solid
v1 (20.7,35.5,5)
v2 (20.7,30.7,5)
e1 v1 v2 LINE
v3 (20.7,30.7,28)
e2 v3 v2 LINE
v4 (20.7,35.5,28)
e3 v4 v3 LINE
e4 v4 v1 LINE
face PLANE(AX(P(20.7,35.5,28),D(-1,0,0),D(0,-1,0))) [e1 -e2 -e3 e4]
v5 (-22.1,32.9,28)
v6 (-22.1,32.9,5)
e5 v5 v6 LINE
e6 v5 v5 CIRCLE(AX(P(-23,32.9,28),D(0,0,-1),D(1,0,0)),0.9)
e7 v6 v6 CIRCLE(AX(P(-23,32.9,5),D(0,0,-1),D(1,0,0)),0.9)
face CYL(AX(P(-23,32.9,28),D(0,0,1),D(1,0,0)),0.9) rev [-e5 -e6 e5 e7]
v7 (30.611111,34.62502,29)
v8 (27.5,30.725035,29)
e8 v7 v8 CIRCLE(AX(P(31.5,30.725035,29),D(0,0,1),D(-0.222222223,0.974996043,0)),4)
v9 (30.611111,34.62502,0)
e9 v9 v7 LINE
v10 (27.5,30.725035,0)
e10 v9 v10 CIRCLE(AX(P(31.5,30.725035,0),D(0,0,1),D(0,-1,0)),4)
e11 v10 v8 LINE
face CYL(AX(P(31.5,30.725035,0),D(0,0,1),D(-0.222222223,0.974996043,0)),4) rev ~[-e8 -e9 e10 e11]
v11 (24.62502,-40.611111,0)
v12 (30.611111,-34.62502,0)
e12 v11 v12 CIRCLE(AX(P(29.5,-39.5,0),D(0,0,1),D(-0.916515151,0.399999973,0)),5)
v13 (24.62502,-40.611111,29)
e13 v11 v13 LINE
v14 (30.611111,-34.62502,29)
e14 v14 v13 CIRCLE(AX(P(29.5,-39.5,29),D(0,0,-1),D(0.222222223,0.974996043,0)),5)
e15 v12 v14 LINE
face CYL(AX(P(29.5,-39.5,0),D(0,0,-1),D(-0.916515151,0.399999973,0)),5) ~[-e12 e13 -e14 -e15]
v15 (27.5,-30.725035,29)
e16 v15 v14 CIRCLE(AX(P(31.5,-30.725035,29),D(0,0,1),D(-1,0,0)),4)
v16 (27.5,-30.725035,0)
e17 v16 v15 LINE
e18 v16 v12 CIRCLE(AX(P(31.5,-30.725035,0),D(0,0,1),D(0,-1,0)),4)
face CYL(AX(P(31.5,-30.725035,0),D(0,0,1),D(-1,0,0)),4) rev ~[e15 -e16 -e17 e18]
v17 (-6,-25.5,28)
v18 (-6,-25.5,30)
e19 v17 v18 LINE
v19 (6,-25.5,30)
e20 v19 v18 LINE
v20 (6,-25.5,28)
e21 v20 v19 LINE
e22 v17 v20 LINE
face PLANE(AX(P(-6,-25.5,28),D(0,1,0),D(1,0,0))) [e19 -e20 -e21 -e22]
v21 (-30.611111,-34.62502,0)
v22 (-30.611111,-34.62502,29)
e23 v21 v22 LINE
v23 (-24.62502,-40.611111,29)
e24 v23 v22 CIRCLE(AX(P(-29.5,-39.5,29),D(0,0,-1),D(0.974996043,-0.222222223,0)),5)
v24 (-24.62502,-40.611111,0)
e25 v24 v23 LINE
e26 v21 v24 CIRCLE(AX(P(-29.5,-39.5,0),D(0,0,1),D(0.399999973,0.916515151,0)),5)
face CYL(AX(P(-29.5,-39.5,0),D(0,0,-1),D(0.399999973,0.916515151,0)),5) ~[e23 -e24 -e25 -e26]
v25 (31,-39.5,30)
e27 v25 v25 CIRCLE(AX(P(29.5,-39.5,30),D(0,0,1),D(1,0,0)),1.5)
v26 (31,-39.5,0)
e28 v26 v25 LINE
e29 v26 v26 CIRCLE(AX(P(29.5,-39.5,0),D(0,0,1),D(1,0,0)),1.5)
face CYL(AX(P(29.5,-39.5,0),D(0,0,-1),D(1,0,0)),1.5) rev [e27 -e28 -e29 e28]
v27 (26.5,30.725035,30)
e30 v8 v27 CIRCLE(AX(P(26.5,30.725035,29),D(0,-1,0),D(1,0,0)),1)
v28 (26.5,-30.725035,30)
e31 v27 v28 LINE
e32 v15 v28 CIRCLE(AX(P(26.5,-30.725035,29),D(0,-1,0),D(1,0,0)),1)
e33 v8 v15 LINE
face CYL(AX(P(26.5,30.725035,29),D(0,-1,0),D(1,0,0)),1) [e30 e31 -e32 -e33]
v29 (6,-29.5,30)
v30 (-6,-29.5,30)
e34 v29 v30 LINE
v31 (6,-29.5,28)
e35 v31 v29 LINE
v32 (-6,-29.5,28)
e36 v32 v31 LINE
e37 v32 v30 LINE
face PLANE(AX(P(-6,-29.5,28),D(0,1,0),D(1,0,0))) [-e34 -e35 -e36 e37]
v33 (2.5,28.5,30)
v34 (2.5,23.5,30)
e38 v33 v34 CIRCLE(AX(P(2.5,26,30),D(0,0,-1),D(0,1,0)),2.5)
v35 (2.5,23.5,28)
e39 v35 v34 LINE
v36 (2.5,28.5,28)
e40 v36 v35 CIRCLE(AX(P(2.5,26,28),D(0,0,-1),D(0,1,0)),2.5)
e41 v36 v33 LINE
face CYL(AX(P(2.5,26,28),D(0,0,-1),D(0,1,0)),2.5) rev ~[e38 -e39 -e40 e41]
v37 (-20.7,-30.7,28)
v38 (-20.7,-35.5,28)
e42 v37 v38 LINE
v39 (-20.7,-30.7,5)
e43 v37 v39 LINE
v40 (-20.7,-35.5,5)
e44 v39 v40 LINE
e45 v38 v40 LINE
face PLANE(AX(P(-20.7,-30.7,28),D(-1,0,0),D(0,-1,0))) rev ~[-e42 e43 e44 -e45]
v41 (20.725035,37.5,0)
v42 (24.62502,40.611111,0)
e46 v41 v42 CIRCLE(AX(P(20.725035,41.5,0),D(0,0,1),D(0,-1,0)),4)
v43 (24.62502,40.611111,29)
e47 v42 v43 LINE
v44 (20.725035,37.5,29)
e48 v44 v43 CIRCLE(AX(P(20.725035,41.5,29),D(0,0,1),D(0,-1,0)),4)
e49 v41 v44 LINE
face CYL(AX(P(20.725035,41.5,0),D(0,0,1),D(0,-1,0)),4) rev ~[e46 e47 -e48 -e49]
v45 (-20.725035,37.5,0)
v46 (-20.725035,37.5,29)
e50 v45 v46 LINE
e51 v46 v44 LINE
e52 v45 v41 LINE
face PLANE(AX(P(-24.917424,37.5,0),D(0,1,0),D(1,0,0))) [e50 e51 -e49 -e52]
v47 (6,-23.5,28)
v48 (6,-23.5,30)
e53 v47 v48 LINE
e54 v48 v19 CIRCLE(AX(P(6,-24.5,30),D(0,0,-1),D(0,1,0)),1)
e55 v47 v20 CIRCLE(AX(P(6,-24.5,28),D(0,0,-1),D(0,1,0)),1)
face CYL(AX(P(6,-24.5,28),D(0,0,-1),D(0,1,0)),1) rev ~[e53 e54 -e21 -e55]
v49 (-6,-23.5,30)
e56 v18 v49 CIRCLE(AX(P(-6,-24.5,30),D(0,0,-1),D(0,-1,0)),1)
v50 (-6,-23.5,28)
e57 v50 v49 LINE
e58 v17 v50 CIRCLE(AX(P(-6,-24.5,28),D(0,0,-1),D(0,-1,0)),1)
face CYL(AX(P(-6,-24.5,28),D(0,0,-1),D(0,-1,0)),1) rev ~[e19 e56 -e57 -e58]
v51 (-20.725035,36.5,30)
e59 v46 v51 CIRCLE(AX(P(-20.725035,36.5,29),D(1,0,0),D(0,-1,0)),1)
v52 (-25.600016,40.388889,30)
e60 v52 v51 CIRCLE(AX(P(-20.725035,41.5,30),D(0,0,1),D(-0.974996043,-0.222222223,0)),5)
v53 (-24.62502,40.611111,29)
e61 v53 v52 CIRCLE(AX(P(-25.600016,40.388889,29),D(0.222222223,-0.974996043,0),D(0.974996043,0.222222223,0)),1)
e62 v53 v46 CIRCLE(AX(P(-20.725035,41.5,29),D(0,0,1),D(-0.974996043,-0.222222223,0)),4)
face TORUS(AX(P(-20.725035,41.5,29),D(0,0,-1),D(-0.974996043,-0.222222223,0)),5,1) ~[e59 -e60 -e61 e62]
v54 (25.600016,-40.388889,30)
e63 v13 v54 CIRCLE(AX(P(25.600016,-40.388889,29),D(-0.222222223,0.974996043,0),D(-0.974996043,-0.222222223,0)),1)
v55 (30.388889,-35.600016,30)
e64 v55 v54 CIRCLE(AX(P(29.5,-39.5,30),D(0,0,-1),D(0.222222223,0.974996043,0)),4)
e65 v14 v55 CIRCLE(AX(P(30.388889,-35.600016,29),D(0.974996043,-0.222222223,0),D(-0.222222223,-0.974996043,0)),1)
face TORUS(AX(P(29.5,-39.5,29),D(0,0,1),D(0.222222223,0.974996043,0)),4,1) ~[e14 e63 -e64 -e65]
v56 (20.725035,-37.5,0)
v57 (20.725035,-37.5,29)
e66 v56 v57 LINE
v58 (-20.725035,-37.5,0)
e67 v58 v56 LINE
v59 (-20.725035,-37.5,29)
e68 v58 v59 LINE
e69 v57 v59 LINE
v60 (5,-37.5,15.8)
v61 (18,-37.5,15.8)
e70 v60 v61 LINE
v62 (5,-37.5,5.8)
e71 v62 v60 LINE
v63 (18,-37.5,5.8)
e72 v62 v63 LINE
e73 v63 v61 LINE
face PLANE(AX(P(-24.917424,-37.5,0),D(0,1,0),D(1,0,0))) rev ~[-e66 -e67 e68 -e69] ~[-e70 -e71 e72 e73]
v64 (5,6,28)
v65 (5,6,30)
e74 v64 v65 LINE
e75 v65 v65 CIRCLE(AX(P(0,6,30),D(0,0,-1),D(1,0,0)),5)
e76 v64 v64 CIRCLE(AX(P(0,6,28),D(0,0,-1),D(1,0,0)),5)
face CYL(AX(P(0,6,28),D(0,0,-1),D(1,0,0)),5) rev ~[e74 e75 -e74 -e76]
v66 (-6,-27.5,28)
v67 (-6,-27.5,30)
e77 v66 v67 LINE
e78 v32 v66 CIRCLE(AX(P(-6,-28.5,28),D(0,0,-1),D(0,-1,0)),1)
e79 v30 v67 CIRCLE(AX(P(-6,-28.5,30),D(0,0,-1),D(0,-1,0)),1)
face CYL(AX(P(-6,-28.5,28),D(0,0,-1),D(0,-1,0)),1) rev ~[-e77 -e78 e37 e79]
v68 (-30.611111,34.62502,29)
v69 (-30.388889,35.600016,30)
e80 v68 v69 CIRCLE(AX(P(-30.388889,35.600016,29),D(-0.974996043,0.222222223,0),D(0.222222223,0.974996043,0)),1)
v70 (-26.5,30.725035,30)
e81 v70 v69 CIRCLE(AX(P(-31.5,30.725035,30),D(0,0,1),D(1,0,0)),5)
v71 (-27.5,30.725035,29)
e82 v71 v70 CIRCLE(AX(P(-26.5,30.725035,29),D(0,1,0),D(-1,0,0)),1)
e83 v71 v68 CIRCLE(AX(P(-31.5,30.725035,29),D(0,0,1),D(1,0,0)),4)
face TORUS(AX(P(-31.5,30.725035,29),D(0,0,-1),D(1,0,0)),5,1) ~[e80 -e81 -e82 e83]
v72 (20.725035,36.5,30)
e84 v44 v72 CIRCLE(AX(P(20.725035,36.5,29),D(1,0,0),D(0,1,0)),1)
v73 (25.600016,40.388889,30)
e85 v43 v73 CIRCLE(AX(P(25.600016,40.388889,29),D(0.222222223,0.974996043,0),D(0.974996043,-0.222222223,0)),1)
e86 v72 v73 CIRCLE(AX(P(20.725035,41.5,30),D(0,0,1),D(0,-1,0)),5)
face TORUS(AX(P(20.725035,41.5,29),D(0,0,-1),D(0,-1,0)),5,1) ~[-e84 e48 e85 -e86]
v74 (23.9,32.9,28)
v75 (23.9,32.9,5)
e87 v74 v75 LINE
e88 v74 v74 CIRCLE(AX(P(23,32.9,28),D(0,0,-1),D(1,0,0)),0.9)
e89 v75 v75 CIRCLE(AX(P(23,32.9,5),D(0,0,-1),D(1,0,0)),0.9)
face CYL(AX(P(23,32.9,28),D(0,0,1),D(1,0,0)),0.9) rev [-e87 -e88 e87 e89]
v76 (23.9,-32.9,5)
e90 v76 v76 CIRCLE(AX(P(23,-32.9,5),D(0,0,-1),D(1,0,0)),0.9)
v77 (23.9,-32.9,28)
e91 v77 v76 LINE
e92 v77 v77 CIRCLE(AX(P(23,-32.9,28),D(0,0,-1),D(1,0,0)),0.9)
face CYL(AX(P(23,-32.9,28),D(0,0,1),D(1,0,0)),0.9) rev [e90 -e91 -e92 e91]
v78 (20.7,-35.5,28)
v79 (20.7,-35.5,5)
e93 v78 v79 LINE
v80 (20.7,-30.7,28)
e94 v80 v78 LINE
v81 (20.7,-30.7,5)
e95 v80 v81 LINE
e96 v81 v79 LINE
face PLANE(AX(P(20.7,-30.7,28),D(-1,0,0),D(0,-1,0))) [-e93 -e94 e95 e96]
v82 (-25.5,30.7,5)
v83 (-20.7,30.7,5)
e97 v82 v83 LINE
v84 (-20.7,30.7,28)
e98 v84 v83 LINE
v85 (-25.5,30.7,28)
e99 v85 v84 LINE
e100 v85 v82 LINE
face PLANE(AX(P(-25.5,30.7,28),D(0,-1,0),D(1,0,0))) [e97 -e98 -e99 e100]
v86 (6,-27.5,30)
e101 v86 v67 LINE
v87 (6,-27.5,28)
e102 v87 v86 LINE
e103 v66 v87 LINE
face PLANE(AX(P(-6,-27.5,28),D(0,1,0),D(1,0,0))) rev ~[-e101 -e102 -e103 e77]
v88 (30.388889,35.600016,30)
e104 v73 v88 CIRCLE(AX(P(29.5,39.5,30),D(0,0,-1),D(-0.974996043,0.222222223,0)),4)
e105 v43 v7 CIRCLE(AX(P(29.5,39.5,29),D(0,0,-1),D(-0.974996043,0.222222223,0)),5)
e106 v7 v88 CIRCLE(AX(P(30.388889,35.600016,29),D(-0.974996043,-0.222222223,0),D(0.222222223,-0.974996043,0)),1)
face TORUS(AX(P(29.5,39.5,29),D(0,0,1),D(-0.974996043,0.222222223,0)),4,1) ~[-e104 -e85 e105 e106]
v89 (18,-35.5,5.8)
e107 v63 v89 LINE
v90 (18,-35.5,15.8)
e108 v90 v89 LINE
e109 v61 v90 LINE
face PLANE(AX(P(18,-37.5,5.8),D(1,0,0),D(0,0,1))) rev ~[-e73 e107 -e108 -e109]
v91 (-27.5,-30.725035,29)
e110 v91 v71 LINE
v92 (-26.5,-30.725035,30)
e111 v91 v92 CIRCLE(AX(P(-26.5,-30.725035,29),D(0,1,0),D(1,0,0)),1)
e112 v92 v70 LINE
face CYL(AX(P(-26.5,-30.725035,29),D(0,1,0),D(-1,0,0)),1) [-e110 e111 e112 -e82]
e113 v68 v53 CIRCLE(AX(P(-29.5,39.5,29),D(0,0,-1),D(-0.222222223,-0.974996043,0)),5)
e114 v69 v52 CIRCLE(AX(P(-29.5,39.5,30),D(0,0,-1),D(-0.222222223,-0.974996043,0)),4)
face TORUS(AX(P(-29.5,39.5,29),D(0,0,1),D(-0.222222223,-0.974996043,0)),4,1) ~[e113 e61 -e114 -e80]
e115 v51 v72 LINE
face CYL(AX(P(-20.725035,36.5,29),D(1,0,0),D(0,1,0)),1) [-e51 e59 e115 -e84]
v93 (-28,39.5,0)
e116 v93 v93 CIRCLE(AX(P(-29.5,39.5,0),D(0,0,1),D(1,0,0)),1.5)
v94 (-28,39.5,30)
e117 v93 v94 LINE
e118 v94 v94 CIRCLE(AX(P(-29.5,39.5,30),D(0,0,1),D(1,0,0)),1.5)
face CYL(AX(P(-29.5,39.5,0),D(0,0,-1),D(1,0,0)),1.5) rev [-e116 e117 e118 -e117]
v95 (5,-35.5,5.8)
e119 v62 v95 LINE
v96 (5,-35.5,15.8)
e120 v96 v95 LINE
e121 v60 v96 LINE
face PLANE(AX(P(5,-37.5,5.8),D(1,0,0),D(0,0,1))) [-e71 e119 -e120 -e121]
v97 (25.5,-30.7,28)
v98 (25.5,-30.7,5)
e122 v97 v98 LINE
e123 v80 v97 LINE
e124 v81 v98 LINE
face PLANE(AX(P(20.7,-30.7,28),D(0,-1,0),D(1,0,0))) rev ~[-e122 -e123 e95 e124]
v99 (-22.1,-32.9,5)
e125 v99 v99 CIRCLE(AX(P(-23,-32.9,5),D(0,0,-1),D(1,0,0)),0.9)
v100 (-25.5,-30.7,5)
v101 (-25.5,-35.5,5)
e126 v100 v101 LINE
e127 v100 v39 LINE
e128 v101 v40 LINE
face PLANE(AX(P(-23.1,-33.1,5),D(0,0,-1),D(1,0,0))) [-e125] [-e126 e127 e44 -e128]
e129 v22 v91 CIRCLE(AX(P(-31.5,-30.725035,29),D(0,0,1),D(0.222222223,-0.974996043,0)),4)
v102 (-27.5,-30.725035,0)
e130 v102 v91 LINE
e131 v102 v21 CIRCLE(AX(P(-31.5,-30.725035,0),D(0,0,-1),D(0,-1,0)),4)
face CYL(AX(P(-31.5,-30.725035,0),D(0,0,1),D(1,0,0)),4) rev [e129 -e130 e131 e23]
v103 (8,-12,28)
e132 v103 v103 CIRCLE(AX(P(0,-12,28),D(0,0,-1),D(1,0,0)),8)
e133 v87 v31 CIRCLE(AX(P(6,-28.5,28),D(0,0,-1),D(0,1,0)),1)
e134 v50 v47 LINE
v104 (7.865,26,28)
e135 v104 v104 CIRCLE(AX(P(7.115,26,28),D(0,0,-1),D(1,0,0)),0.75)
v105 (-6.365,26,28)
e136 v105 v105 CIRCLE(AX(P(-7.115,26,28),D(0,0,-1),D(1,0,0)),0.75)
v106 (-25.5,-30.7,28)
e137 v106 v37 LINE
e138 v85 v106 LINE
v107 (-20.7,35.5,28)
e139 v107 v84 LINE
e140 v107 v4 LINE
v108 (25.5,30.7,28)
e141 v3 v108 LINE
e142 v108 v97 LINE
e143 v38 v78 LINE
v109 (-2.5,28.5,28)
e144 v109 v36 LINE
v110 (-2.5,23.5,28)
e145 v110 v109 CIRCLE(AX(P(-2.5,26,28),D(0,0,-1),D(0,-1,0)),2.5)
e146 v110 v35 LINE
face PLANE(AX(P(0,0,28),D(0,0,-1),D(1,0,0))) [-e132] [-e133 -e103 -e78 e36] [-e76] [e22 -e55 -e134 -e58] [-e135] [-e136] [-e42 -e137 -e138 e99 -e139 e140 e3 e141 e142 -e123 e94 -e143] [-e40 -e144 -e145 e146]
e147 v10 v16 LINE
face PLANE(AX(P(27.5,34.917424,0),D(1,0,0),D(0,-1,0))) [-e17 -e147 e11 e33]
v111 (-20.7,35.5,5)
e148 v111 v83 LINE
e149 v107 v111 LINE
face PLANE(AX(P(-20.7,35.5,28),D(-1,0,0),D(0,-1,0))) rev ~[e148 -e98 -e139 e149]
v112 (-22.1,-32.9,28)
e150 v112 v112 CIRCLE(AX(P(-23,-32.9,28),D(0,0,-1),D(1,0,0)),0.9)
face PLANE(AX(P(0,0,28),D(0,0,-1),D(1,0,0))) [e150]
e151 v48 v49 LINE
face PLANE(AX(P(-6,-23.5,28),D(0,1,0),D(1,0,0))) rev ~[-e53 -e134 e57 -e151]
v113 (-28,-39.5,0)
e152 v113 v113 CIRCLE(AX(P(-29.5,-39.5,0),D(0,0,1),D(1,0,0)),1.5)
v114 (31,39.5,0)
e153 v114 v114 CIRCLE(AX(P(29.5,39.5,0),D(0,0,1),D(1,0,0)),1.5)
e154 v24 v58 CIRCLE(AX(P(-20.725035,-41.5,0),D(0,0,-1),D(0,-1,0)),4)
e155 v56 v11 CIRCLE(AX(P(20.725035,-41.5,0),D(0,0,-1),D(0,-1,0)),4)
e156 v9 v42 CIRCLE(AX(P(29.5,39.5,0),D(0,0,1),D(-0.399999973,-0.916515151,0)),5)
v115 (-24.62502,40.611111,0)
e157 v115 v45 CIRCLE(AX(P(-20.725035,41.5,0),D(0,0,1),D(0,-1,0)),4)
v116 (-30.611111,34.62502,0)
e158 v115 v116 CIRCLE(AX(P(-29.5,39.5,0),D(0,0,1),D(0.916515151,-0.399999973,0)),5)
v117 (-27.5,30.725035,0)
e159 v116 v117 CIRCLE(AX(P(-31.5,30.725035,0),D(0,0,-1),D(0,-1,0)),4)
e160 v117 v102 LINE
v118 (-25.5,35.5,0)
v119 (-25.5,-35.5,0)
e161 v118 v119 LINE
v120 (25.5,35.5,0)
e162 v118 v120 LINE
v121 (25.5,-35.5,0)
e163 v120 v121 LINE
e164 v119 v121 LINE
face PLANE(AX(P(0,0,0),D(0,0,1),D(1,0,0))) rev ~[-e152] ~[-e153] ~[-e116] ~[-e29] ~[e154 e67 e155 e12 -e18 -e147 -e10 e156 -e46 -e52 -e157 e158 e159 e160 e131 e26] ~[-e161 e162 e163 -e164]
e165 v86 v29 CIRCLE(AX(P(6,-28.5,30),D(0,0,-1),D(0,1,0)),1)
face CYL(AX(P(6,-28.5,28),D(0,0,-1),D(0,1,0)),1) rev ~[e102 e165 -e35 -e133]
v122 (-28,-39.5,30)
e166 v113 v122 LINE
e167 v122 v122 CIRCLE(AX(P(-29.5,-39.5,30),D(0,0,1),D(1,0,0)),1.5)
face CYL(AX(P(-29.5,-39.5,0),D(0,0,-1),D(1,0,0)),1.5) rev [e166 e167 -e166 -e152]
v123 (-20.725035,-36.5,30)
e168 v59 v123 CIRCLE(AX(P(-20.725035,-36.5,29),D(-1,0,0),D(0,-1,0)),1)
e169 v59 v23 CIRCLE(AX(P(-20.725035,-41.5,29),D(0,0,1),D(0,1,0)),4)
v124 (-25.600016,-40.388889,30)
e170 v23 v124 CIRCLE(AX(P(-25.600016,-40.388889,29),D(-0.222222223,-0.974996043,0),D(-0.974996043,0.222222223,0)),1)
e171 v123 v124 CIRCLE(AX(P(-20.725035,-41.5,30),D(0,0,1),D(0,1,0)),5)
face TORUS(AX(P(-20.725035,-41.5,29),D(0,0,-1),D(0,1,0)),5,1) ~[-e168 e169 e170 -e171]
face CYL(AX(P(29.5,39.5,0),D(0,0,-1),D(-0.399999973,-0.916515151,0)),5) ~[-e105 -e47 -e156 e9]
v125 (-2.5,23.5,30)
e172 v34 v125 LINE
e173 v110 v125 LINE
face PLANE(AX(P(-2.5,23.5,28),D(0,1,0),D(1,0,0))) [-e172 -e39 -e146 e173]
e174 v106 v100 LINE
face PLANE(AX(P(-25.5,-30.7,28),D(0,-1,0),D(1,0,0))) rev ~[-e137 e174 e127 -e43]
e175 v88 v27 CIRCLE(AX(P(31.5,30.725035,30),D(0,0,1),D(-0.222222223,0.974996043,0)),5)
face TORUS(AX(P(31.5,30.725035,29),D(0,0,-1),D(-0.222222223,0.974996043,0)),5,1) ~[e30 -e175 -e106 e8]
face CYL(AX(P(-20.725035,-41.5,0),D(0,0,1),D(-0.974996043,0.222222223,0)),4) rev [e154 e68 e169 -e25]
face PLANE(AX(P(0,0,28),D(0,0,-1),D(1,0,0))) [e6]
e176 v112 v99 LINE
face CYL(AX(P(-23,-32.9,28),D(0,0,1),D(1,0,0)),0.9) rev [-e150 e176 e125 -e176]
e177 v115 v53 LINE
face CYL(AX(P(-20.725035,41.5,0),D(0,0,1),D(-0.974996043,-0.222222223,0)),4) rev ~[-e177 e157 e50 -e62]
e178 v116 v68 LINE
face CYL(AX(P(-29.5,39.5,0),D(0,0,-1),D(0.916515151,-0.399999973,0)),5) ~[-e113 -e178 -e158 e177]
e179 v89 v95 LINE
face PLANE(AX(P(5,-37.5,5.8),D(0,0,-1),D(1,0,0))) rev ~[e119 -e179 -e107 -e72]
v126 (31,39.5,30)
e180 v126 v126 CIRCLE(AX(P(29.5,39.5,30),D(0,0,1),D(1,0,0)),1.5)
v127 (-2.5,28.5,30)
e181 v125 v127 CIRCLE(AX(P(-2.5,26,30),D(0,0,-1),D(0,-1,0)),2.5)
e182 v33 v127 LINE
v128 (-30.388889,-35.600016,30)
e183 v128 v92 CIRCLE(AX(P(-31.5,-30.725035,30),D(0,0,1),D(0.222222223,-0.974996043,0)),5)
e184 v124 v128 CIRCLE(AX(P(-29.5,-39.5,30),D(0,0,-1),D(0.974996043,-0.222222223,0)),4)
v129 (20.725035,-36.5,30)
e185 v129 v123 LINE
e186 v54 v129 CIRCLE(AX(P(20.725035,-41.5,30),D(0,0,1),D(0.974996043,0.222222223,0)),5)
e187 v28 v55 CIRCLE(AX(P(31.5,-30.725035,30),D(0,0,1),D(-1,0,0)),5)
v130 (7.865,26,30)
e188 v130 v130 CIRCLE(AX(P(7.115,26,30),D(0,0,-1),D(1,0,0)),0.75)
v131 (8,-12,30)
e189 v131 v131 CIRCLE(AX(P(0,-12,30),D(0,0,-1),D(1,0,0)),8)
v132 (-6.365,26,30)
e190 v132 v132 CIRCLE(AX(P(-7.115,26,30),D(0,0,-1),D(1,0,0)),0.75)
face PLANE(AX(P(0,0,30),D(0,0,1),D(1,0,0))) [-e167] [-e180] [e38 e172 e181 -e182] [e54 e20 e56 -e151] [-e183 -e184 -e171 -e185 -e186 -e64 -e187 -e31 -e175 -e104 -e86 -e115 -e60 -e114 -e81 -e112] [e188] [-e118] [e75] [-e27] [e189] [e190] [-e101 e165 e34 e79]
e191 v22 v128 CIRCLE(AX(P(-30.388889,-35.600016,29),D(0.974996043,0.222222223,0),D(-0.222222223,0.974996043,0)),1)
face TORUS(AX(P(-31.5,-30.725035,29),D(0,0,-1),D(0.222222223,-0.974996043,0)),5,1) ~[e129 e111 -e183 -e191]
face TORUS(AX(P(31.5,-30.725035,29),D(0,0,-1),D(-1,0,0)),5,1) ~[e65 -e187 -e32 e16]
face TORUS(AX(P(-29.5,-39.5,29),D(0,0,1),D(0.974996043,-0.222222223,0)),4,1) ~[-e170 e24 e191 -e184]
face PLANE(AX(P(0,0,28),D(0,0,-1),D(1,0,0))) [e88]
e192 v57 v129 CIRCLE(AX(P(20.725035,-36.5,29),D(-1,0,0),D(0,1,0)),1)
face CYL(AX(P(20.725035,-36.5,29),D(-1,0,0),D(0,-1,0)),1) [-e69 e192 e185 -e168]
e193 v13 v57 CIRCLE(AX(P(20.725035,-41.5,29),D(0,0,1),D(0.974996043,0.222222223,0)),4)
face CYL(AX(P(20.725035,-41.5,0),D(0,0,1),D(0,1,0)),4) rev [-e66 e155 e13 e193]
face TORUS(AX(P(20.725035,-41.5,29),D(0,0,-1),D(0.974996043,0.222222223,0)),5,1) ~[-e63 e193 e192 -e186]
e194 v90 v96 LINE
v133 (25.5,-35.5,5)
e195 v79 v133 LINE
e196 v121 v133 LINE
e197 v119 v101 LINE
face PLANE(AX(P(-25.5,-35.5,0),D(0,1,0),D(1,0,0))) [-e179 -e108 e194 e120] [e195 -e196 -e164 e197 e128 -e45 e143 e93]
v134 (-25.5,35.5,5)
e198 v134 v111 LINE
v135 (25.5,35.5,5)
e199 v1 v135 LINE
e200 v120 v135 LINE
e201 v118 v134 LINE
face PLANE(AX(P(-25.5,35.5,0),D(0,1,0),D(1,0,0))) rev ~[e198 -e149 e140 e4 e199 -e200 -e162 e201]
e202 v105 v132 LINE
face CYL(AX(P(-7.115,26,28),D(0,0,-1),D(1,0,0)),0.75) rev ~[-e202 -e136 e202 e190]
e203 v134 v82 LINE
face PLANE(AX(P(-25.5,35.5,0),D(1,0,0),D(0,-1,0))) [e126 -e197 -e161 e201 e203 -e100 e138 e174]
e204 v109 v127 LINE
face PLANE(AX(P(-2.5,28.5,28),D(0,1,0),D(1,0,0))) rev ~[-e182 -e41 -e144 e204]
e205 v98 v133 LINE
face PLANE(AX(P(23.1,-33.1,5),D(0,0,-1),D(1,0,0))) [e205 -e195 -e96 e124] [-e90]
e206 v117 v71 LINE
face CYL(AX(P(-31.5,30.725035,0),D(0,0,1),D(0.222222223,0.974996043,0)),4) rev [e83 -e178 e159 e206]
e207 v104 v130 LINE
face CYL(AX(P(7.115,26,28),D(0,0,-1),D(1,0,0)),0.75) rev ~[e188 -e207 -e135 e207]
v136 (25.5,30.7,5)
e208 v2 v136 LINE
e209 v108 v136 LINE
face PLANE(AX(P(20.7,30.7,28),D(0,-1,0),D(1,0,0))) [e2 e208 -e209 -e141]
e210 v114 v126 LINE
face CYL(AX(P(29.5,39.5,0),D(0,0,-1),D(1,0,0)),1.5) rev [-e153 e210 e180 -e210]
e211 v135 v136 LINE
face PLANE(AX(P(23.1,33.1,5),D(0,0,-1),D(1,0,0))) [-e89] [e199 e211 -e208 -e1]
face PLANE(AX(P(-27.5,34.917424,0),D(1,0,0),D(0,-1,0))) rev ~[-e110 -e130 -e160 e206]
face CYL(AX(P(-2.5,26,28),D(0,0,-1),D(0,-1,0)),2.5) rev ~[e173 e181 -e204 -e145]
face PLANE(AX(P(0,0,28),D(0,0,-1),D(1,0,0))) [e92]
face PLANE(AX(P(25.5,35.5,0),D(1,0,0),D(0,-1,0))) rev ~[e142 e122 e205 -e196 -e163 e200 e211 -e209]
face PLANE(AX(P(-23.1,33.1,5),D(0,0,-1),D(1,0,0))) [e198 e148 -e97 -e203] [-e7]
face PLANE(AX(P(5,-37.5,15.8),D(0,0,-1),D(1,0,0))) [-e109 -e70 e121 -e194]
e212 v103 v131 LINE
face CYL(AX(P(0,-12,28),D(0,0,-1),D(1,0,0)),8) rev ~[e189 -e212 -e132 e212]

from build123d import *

# Parameters (mm, degrees)
SKETCH_R        = 1.5
PAD_DEPTH       = 30
SKETCH001_W     = 51
SKETCH001_H     = 71
POCKET_DEPTH    = 28
SKETCH002_W     = 4.8
SKETCH002_H     = 4.8
SKETCH002_R     = 0.9
PAD001_DEPTH    = 23
SKETCH003_W     = 4.8
SKETCH003_H     = 4.8
SKETCH003_R     = 0.9
PAD002_DEPTH    = 23
SKETCH004_W     = 4.8
SKETCH004_H     = 4.8
SKETCH004_R     = 0.9
PAD003_DEPTH    = 23
SKETCH005_W     = 4.8
SKETCH005_H     = 4.8
SKETCH005_R     = 0.9
PAD004_DEPTH    = 23
SKETCH006_R     = 5
POCKET001_DEPTH = 5
SKETCH007_R     = 8
POCKET002_DEPTH = 5
POCKET003_DEPTH = 5
SKETCH009_W     = 13
SKETCH009_H     = 10
POCKET004_DEPTH = 5
SKETCH010_R     = 0.75
POCKET005_DEPTH = 5
FILLET002_R     = 4
FILLET003_R     = 1


with BuildPart() as part:
    # Sketch → Pad (new body)
    with BuildSketch(Plane.XY):
        with BuildLine():
            ThreePointArc((-24.917424, 37.5), (-33.035534, 43.035534), (-27.5, 34.917424))
            Line((-27.5, 34.917424), (-27.5, -34.917424))
            ThreePointArc((-27.5, -34.917424), (-33.035534, -43.035534), (-24.917424, -37.5))
            Line((-24.917424, -37.5), (24.917424, -37.5))
            ThreePointArc((24.917424, -37.5), (33.035534, -43.035534), (27.5, -34.917424))
            Line((27.5, 34.917424), (27.5, -34.917424))
            ThreePointArc((27.5, 34.917424), (33.035534, 43.035534), (24.917424, 37.5))
            Line((-24.917424, 37.5), (24.917424, 37.5))
        make_face()
        with Locations((-29.5, 39.5)):
            Circle(SKETCH_R, mode=Mode.SUBTRACT)
        with Locations((29.5, 39.5)):
            Circle(SKETCH_R, mode=Mode.SUBTRACT)
        with Locations((-29.5, -39.5)):
            Circle(SKETCH_R, mode=Mode.SUBTRACT)
        with Locations((29.5, -39.5)):
            Circle(SKETCH_R, mode=Mode.SUBTRACT)
    extrude(amount=PAD_DEPTH)

    # Sketch001 (on Face13 of Pad) → Pocket (cut)
    with BuildSketch(Plane(origin=(0, 0, 0), x_dir=(1, 0, 0), z_dir=(0, 0, -1))):
        Rectangle(SKETCH001_W, SKETCH001_H)
    extrude(amount=-POCKET_DEPTH, mode=Mode.SUBTRACT)

    # Sketch002 (on Face19 of Pocket) → Pad001 (join)
    with BuildSketch(Plane(origin=(0, 0, 28), x_dir=(1, 0, 0), z_dir=(0, 0, -1))):
        with Locations((-23.1, 33.1)):
            Rectangle(SKETCH002_W, SKETCH002_H)
        with Locations((-23, 32.9)):
            Circle(SKETCH002_R, mode=Mode.SUBTRACT)
    extrude(amount=PAD001_DEPTH)

    # Sketch003 (on Face19 of Pad001) → Pad002 (join)
    with BuildSketch(Plane(origin=(0, 0, 28), x_dir=(1, 0, 0), z_dir=(0, 0, -1))):
        with Locations((23.1, 33.1)):
            Rectangle(SKETCH003_W, SKETCH003_H)
        with Locations((23, 32.9)):
            Circle(SKETCH003_R, mode=Mode.SUBTRACT)
    extrude(amount=PAD002_DEPTH)

    # Sketch004 (on Face21 of Pad002) → Pad003 (join)
    with BuildSketch(Plane(origin=(0, 0, 28), x_dir=(1, 0, 0), z_dir=(0, 0, -1))):
        with Locations((23.1, -33.1)):
            Rectangle(SKETCH004_W, SKETCH004_H)
        with Locations((23, -32.9)):
            Circle(SKETCH004_R, mode=Mode.SUBTRACT)
    extrude(amount=PAD003_DEPTH)

    # Sketch005 (on Face21 of Pad003) → Pad004 (join)
    with BuildSketch(Plane(origin=(0, 0, 28), x_dir=(1, 0, 0), z_dir=(0, 0, -1))):
        with Locations((-23.1, -33.1)):
            Rectangle(SKETCH005_W, SKETCH005_H)
        with Locations((-23, -32.9)):
            Circle(SKETCH005_R, mode=Mode.SUBTRACT)
    extrude(amount=PAD004_DEPTH)

    # Sketch006 (on Face21 of Pad004) → Pocket001 (cut)
    with BuildSketch(Plane(origin=(0, 0, 28), x_dir=(1, 0, 0), z_dir=(0, 0, -1))):
        with Locations((0, -6)):
            Circle(SKETCH006_R)
    extrude(amount=-POCKET001_DEPTH, mode=Mode.SUBTRACT)

    # Sketch007 (on Face22 of Pocket001) → Pocket002 (cut)
    with BuildSketch(Plane(origin=(0, 0, 28), x_dir=(1, 0, 0), z_dir=(0, 0, -1))):
        with Locations((0, 12)):
            Circle(SKETCH007_R)
    extrude(amount=-POCKET002_DEPTH, mode=Mode.SUBTRACT)

    # Sketch008 (on Face23 of Pocket002) → Pocket003 (cut)
    with BuildSketch(Plane(origin=(0, 0, 28), x_dir=(1, 0, 0), z_dir=(0, 0, -1))):
        with BuildLine():
            ThreePointArc((-6, 29.5), (-7, 28.5), (-6, 27.5))
            Line((-6, 27.5), (6, 27.5))
            ThreePointArc((6, 27.5), (7, 28.5), (6, 29.5))
            Line((-6, 29.5), (6, 29.5))
        make_face()
        with BuildLine():
            ThreePointArc((-6, 25.5), (-7, 24.5), (-6, 23.5))
            Line((-6, 23.5), (6, 23.5))
            ThreePointArc((6, 23.5), (7, 24.5), (6, 25.5))
            Line((-6, 25.5), (6, 25.5))
        make_face()
    extrude(amount=-POCKET003_DEPTH, mode=Mode.SUBTRACT)

    # Sketch009 (on Face9 of Pocket003) → Pocket004 (cut)
    with BuildSketch(Plane.XZ.offset(37.5)):
        with Locations((11.5, 10.8)):
            Rectangle(SKETCH009_W, SKETCH009_H)
    extrude(amount=-POCKET004_DEPTH, mode=Mode.SUBTRACT)

    # Sketch010 (on Face37 of Pocket004) → Pocket005 (cut)
    with BuildSketch(Plane(origin=(0, 0, 28), x_dir=(1, 0, 0), z_dir=(0, 0, -1))):
        with Locations((-7.115, -26)):
            Circle(SKETCH010_R)
        with Locations((7.115, -26)):
            Circle(SKETCH010_R)
        with BuildLine():
            ThreePointArc((-2.5, -23.5), (-5, -26), (-2.5, -28.5))
            Line((-2.5, -28.5), (2.5, -28.5))
            ThreePointArc((2.5, -28.5), (5, -26), (2.5, -23.5))
            Line((-2.5, -23.5), (2.5, -23.5))
        make_face()
    extrude(amount=-POCKET005_DEPTH, mode=Mode.SUBTRACT)

    # Fillet002
    fillet002_edges = [part.edges().sort_by_distance(p)[0] for p in [
        (-27.5, 34.917424, 15),
        (-24.917424, 37.5, 15),
        (27.5, 34.917424, 15),
        (24.917424, 37.5, 15),
        (-24.917424, -37.5, 15),
        (-27.5, -34.917424, 15),
        (27.5, -34.917424, 15),
        (24.917424, -37.5, 15),
    ]]
    fillet(fillet002_edges, radius=FILLET002_R)

    # Fillet003
    fillet003_edges = [part.edges().sort_by_distance(p)[0] for p in [
        (27.5, 0, 30),
    ]]
    fillet(fillet003_edges, radius=FILLET003_R)


solid = part.part
